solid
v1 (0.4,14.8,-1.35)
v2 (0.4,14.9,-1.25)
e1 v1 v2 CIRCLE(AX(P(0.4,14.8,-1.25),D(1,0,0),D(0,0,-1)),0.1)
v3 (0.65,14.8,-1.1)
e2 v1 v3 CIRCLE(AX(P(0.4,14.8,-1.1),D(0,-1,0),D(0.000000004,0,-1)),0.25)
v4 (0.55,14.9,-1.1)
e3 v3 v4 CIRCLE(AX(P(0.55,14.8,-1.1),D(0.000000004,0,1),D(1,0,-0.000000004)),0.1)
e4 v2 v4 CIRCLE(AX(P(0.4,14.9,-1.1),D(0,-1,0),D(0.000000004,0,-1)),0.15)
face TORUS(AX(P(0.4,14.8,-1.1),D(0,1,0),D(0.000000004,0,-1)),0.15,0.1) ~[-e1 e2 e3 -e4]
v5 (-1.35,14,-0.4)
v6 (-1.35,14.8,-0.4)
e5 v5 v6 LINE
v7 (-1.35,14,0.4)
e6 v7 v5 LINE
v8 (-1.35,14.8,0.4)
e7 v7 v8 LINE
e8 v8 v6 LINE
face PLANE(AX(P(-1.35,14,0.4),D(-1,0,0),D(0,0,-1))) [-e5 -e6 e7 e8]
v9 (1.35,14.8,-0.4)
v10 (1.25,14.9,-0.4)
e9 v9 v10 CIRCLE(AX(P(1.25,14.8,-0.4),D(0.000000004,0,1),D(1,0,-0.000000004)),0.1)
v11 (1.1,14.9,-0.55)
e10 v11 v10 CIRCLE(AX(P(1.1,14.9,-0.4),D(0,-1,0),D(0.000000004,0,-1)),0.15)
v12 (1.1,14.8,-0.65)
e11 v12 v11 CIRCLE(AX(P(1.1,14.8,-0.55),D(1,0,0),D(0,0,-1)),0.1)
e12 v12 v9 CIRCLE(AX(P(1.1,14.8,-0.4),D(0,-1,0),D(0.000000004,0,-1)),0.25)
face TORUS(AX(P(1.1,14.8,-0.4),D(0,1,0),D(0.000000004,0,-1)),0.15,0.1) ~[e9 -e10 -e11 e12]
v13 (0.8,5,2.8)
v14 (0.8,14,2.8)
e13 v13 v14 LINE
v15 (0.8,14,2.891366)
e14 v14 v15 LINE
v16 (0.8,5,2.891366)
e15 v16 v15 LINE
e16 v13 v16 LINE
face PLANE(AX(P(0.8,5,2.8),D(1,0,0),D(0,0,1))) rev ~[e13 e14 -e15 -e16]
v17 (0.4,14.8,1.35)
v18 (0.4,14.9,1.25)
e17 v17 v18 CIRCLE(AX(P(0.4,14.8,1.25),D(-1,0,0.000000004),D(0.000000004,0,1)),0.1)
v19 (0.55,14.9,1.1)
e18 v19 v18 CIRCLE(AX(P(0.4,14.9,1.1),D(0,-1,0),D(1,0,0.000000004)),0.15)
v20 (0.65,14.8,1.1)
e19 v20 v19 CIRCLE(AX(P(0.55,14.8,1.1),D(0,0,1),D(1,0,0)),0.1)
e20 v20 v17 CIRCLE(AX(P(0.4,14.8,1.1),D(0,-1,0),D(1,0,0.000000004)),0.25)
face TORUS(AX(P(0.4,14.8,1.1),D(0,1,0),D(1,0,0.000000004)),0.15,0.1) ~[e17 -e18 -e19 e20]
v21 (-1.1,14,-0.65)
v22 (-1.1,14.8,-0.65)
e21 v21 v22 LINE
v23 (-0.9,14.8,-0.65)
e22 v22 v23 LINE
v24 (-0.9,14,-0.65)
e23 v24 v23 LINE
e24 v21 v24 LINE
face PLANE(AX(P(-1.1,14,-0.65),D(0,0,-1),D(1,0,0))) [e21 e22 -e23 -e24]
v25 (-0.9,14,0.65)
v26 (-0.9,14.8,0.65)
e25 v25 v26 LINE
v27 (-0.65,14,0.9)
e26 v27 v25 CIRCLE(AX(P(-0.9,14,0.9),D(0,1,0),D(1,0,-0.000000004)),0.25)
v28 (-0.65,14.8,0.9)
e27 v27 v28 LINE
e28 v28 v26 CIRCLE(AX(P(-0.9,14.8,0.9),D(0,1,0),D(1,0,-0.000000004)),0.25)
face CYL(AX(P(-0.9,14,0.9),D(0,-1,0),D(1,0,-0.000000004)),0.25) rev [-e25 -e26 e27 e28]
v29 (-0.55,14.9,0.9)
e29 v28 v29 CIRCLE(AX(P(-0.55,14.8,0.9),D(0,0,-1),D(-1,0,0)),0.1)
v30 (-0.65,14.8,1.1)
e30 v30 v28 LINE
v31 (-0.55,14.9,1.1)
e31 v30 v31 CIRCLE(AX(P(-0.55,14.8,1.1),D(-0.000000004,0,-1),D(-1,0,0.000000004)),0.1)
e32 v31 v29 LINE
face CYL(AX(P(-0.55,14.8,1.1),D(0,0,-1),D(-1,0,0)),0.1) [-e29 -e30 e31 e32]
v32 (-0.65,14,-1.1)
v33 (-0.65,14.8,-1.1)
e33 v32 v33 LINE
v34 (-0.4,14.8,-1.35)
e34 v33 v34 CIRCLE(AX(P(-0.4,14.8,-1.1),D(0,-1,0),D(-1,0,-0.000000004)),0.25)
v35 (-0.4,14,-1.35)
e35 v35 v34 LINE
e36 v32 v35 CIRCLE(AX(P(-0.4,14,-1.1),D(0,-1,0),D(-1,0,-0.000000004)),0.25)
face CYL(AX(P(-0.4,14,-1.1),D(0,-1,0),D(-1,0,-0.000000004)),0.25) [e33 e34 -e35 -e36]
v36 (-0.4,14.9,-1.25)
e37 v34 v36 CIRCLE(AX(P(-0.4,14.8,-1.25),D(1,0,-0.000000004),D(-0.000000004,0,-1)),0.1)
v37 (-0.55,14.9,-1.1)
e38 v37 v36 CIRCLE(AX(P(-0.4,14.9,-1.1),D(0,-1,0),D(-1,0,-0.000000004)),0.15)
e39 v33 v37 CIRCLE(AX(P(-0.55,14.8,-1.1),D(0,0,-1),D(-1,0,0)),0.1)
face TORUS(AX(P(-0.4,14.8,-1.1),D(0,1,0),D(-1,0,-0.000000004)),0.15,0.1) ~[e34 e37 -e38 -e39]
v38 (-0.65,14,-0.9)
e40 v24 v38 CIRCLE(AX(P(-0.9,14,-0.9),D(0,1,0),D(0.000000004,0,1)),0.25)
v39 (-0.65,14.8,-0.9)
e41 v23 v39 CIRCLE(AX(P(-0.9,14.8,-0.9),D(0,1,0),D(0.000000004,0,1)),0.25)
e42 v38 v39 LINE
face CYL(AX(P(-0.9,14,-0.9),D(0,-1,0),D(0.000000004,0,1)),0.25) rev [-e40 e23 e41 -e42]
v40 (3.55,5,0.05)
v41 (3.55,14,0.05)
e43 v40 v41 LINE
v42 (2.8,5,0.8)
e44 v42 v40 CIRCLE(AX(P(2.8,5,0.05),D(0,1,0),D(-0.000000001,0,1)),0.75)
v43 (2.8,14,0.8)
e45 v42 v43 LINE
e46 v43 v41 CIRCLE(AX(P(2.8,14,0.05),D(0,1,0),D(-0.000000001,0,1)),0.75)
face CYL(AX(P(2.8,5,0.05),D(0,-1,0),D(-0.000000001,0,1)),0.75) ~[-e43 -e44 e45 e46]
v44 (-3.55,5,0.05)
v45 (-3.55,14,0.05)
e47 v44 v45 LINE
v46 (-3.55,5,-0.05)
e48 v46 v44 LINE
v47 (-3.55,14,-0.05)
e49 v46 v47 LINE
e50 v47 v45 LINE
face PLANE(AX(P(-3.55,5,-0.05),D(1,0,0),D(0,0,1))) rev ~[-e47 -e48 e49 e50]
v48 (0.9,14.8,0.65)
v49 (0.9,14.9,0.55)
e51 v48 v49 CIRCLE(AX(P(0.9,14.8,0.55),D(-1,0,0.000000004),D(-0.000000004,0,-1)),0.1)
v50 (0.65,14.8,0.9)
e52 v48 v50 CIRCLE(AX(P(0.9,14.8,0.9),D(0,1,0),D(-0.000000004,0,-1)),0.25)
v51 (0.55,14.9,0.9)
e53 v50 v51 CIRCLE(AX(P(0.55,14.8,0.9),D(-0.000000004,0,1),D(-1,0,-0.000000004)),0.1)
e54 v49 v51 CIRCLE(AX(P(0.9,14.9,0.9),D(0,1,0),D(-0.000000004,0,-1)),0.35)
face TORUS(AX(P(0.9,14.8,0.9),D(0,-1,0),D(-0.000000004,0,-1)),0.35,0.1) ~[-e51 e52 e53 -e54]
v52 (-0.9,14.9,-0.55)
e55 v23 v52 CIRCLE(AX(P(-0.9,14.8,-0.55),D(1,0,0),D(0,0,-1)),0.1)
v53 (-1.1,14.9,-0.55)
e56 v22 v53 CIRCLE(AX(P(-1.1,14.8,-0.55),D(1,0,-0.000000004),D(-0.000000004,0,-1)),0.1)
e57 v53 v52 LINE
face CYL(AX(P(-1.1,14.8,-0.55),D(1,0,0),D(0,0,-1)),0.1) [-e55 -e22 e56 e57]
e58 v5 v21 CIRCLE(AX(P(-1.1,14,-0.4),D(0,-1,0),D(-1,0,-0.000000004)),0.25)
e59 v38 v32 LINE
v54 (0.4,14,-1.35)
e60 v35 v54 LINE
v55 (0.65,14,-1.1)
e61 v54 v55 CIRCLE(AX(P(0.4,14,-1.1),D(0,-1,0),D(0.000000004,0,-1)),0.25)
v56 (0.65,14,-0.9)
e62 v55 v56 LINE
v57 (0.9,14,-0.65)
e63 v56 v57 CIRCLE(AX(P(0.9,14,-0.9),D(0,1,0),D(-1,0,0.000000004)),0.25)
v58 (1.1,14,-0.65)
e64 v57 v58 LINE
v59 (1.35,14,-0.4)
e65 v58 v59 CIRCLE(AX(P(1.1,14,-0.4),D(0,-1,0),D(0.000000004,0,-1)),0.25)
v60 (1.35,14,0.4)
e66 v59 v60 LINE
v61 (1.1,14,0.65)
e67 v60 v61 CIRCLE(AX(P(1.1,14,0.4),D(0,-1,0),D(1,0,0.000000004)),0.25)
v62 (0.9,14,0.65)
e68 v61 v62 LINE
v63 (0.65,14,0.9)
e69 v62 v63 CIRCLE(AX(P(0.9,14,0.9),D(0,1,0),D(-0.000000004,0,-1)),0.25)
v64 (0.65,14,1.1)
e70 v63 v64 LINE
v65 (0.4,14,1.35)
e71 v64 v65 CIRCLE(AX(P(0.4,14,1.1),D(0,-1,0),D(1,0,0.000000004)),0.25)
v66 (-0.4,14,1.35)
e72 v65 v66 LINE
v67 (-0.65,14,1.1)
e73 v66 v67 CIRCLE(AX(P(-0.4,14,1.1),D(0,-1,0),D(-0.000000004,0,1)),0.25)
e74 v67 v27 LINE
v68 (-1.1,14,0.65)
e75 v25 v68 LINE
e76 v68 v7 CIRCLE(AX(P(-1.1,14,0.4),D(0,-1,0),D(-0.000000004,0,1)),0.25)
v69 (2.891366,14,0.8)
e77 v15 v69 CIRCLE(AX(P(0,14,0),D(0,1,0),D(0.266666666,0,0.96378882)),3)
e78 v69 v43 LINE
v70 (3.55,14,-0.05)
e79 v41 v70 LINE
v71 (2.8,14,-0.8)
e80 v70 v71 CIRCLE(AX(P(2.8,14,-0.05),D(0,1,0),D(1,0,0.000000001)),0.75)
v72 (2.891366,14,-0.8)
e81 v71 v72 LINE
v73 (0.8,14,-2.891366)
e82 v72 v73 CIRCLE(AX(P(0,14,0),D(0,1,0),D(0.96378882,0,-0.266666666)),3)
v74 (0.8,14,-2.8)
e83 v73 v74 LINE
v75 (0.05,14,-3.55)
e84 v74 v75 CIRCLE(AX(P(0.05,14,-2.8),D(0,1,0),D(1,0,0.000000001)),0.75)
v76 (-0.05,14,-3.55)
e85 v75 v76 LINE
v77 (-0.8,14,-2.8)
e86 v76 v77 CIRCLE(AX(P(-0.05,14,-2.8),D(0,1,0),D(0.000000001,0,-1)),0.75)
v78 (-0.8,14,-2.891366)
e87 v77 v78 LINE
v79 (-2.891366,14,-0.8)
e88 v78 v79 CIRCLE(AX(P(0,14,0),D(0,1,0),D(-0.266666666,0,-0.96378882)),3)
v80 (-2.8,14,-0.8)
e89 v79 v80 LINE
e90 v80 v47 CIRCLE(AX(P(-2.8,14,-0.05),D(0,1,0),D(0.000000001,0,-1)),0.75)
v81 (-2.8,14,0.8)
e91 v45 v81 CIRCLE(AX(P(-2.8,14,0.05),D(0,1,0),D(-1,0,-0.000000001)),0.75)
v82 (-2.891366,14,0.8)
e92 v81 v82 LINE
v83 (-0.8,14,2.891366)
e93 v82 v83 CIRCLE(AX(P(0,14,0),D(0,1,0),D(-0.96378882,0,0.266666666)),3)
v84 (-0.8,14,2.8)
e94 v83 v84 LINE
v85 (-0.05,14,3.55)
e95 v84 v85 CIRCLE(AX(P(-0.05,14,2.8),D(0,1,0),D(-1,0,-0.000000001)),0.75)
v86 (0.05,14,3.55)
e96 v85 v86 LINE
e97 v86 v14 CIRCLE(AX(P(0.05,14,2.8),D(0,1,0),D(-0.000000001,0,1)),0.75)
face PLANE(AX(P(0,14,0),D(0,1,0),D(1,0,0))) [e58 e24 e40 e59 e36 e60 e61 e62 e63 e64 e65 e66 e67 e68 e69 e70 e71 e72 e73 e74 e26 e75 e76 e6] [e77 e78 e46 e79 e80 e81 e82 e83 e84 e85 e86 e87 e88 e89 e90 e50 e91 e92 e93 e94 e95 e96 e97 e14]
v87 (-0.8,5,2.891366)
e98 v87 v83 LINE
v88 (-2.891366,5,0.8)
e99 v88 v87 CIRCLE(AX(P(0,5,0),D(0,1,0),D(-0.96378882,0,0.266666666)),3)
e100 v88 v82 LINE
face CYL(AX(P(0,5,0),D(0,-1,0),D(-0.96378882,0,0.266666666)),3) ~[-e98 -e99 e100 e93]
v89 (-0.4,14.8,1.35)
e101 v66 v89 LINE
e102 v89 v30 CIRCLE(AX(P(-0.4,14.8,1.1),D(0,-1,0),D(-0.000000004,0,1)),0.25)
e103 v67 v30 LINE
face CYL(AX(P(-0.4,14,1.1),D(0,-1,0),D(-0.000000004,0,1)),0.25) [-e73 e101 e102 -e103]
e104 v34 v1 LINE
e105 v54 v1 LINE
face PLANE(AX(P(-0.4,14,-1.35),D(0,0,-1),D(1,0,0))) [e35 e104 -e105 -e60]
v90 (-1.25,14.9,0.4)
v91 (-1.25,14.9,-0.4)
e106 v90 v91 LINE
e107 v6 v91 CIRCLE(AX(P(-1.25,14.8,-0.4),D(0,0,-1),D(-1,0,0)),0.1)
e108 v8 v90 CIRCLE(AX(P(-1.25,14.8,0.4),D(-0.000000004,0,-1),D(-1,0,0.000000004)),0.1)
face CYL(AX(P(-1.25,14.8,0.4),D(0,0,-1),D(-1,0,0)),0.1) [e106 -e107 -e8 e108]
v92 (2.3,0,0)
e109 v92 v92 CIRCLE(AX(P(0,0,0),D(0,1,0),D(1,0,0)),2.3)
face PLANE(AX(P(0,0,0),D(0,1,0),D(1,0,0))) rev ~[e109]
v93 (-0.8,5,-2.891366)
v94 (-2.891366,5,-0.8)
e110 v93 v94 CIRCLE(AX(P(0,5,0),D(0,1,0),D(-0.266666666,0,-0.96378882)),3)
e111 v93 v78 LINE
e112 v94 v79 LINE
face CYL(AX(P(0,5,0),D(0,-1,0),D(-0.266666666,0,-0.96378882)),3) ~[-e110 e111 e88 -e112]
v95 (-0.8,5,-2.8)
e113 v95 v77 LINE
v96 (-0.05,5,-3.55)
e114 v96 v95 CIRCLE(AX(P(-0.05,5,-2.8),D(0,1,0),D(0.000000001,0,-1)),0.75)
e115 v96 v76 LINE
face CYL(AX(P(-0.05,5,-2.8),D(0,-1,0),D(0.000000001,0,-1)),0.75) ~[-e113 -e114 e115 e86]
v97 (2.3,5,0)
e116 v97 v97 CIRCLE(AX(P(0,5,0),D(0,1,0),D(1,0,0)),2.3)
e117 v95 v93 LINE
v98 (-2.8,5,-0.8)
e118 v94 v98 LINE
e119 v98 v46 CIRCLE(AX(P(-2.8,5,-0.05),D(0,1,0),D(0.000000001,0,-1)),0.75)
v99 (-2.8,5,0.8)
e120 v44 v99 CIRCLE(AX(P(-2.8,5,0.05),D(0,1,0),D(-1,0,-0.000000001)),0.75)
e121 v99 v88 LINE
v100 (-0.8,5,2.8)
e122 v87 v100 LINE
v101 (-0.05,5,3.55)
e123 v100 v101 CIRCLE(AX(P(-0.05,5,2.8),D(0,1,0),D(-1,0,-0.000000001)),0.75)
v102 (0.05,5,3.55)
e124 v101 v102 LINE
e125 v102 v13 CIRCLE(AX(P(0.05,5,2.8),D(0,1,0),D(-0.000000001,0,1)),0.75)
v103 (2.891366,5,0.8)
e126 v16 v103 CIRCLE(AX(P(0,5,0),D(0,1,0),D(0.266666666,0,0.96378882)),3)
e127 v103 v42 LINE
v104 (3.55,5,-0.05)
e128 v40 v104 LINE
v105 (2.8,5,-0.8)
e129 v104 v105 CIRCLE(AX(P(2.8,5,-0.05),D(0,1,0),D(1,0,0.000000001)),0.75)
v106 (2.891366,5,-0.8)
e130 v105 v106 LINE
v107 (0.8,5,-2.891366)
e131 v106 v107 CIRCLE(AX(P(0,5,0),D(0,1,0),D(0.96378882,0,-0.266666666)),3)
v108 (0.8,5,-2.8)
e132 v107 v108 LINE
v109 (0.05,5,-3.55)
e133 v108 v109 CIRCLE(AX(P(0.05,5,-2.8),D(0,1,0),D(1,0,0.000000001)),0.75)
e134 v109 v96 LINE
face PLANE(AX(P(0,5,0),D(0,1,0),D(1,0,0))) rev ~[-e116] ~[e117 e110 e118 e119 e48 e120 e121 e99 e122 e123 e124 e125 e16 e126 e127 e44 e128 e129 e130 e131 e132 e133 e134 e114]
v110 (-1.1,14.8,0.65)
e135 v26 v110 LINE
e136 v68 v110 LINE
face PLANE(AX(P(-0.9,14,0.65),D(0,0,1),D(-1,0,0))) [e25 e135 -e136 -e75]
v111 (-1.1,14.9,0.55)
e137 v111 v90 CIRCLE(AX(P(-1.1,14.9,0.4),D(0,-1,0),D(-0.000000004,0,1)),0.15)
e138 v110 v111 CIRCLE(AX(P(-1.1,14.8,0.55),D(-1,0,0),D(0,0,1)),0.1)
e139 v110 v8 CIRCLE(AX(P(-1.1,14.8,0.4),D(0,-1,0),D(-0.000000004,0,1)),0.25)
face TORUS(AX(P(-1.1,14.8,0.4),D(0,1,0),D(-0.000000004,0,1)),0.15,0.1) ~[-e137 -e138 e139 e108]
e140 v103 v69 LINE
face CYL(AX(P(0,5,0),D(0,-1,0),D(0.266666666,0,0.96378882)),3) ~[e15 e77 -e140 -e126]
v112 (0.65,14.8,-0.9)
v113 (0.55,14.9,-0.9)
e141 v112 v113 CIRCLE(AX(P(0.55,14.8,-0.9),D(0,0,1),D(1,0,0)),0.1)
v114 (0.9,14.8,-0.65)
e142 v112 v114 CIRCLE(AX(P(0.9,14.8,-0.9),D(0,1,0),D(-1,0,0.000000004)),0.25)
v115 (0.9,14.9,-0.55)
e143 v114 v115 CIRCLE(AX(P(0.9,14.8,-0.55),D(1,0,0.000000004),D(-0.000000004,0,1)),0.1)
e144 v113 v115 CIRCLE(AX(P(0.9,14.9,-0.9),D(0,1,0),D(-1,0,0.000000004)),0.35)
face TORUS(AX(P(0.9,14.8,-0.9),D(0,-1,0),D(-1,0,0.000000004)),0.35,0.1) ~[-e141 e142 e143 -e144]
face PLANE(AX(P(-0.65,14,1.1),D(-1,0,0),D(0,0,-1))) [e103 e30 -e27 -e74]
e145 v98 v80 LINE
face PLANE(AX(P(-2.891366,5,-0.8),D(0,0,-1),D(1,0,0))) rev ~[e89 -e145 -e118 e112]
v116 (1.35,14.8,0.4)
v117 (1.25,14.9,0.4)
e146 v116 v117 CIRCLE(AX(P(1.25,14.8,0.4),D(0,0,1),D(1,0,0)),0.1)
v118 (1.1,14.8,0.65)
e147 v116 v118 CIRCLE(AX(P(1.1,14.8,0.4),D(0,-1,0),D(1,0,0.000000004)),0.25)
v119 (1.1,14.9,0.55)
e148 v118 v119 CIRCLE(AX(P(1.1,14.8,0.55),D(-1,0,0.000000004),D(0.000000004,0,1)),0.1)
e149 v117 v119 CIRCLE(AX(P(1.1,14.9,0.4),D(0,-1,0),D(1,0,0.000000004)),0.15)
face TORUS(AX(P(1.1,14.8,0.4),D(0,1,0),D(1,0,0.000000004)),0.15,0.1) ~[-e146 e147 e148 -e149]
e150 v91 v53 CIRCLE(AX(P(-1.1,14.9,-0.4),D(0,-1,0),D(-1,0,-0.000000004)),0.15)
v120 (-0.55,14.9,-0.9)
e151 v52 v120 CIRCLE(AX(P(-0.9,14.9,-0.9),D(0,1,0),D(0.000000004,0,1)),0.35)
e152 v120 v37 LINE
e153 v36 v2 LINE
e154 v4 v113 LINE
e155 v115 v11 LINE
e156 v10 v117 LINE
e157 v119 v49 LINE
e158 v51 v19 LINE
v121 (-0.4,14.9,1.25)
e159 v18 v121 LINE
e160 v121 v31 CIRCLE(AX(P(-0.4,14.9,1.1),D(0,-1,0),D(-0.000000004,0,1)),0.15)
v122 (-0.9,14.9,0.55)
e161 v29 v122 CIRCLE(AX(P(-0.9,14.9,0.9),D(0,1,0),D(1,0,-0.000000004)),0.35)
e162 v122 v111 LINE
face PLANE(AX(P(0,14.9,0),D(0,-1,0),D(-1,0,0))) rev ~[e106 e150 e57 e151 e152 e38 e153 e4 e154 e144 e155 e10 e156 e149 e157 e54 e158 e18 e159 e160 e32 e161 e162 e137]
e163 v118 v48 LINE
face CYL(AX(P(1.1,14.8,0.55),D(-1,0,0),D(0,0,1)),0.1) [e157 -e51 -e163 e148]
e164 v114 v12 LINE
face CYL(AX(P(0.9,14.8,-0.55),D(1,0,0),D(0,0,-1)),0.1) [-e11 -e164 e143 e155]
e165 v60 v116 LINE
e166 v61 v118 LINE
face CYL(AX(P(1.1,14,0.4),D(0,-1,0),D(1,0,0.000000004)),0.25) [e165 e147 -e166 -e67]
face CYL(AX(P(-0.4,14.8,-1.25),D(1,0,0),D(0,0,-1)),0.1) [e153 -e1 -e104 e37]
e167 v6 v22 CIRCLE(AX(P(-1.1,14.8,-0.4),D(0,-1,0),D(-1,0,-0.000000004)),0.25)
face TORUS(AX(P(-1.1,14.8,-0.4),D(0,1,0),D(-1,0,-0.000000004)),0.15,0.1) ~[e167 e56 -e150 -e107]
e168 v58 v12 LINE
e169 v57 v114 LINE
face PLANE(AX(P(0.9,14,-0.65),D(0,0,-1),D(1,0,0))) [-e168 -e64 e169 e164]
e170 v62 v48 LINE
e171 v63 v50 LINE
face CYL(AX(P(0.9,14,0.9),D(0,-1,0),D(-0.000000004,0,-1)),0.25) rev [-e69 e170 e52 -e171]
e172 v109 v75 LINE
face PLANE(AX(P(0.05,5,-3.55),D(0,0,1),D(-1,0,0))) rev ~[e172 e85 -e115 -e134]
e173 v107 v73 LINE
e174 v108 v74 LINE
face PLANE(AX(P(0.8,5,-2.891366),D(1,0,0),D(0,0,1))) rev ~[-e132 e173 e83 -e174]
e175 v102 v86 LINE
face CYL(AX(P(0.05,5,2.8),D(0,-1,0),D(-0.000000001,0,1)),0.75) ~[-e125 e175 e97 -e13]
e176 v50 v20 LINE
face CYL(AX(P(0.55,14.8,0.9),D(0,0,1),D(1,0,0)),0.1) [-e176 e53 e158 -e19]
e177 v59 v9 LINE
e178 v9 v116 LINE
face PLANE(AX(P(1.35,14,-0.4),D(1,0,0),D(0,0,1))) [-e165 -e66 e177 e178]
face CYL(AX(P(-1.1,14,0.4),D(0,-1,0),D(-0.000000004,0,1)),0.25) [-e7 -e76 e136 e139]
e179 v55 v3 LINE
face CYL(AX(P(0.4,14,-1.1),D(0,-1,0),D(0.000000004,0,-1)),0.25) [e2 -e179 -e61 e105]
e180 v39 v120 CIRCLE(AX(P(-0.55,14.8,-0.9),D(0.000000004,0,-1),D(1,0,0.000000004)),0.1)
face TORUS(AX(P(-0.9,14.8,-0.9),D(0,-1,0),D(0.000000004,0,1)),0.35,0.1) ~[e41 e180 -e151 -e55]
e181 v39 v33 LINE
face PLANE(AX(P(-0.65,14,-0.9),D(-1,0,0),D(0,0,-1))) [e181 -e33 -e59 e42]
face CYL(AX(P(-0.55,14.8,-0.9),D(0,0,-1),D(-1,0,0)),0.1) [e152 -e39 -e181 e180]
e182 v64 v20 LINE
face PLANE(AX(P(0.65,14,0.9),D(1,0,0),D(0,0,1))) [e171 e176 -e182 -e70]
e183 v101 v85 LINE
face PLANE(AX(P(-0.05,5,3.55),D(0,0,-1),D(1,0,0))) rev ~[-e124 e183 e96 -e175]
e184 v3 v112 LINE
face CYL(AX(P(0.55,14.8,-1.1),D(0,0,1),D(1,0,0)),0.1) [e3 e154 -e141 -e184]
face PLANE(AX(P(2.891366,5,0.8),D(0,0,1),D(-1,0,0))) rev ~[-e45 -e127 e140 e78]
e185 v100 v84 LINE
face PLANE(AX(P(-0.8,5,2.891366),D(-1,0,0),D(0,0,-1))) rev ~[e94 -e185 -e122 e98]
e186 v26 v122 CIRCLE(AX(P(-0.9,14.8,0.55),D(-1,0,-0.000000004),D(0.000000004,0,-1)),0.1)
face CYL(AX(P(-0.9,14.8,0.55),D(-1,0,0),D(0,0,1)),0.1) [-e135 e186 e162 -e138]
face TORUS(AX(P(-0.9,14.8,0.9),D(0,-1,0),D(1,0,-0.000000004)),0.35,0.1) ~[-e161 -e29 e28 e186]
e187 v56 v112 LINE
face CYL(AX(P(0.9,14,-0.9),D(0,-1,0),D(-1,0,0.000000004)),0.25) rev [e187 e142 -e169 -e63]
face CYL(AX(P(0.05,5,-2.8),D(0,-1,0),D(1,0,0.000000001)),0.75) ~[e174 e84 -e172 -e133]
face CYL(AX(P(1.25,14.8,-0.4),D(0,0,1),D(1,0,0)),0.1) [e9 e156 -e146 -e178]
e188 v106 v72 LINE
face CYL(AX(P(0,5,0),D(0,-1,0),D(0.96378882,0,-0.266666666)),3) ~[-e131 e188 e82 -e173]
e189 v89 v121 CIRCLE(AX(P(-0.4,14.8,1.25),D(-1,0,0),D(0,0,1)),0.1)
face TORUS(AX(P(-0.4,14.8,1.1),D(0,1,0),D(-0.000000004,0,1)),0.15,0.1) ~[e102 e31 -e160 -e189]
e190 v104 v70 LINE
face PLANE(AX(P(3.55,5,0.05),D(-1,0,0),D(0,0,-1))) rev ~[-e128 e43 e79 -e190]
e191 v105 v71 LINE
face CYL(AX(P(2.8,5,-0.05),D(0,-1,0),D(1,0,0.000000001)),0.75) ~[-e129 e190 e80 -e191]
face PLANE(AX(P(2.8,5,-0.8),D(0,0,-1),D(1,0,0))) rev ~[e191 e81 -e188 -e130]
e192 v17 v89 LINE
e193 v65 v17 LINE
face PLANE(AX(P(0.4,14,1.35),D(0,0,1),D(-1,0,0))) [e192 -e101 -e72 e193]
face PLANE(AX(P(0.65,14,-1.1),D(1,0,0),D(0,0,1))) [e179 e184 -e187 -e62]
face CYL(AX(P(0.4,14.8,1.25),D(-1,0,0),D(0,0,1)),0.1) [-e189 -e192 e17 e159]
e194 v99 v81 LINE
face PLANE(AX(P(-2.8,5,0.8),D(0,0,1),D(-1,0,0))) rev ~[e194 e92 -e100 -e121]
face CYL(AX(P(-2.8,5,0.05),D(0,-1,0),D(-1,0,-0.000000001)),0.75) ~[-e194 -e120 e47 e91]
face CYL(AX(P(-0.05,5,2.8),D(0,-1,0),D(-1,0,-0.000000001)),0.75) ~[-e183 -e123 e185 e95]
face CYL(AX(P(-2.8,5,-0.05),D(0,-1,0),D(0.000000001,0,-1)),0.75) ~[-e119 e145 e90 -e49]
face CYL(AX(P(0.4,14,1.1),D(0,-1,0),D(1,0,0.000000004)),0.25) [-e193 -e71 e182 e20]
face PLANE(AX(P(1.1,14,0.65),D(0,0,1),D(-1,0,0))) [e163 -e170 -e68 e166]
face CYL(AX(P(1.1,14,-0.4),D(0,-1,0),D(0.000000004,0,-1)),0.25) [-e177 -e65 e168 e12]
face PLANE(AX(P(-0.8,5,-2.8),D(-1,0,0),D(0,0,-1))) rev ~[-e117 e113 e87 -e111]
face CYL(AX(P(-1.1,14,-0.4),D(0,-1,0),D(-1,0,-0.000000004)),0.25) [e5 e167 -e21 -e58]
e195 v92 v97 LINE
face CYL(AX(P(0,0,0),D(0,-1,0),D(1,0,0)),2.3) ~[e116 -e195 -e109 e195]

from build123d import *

# Parameters (mm, degrees)
SKETCH1_R           = 2.3
BOSS_EXTRUDE1_DEPTH = 5
BOSS_EXTRUDE2_DEPTH = 9
BOSS_EXTRUDE3_DEPTH = 0.9
FILLET2_R           = 0.1


with BuildPart() as part:
    # Sketch1 → Boss-Extrude1 (new body)
    with BuildSketch(Plane(origin=(0, 0, 0), x_dir=(1, 0, 0), z_dir=(0, 1, 0))):
        Circle(SKETCH1_R)
    extrude(amount=BOSS_EXTRUDE1_DEPTH)

    # Sketch2 → Boss-Extrude2 (add)
    with BuildSketch(Plane(origin=(0, 5, 0), x_dir=(1, 0, 0), z_dir=(0, 1, 0))):
        with BuildLine():
            Line((0.05, 3.55), (-0.05, 3.55))
            ThreePointArc((-0.05, 3.55), (-0.580330086, 3.330330086), (-0.8, 2.8))
            Line((-0.8, 2.8), (-0.8, 2.891366459))
            ThreePointArc((-0.8, 2.891366459), (-2.121320344, 2.121320344), (-2.891366459, 0.8))
            Line((-2.891366459, 0.8), (-2.8, 0.8))
            ThreePointArc((-2.8, 0.8), (-3.330330086, 0.580330086), (-3.55, 0.05))
            Line((-3.55, 0.05), (-3.55, -0.05))
            ThreePointArc((-3.55, -0.05), (-3.330330086, -0.580330086), (-2.8, -0.8))
            Line((-2.8, -0.8), (-2.891366459, -0.8))
            ThreePointArc((-2.891366459, -0.8), (-2.121320344, -2.121320344), (-0.8, -2.891366459))
            Line((-0.8, -2.891366459), (-0.8, -2.8))
            ThreePointArc((-0.8, -2.8), (-0.580330086, -3.330330086), (-0.05, -3.55))
            Line((-0.05, -3.55), (0.05, -3.55))
            ThreePointArc((0.05, -3.55), (0.580330086, -3.330330086), (0.8, -2.8))
            Line((0.8, -2.8), (0.8, -2.891366459))
            ThreePointArc((0.8, -2.891366459), (2.121320344, -2.121320344), (2.891366459, -0.8))
            Line((2.891366459, -0.8), (2.8, -0.8))
            ThreePointArc((2.8, -0.8), (3.330330086, -0.580330086), (3.55, -0.05))
            Line((3.55, -0.05), (3.55, 0.05))
            ThreePointArc((3.55, 0.05), (3.330330086, 0.580330086), (2.8, 0.8))
            Line((2.8, 0.8), (2.891366459, 0.8))
            ThreePointArc((2.891366459, 0.8), (2.121320344, 2.121320344), (0.8, 2.891366459))
            Line((0.8, 2.891366459), (0.8, 2.8))
            ThreePointArc((0.8, 2.8), (0.580330086, 3.330330086), (0.05, 3.55))
        make_face()
    extrude(amount=BOSS_EXTRUDE2_DEPTH)

    # Sketch3 → Boss-Extrude3 (add)
    with BuildSketch(Plane(origin=(0, 14, 0), x_dir=(1, 0, 0), z_dir=(0, 1, 0))):
        with BuildLine():
            Line((-0.4, 1.35), (0.4, 1.35))
            ThreePointArc((0.4, 1.35), (0.576776695, 1.276776695), (0.65, 1.1))
            Line((0.65, 1.1), (0.65, 0.9))
            ThreePointArc((0.65, 0.9), (0.723223305, 0.723223305), (0.9, 0.65))
            Line((0.9, 0.65), (1.1, 0.65))
            ThreePointArc((1.1, 0.65), (1.276776695, 0.576776695), (1.35, 0.4))
            Line((1.35, 0.4), (1.35, -0.4))
            ThreePointArc((1.35, -0.4), (1.276776695, -0.576776695), (1.1, -0.65))
            Line((1.1, -0.65), (0.9, -0.65))
            ThreePointArc((0.9, -0.65), (0.723223305, -0.723223305), (0.65, -0.9))
            Line((0.65, -0.9), (0.65, -1.1))
            ThreePointArc((0.65, -1.1), (0.576776695, -1.276776695), (0.4, -1.35))
            Line((0.4, -1.35), (-0.4, -1.35))
            ThreePointArc((-0.4, -1.35), (-0.576776695, -1.276776695), (-0.65, -1.1))
            Line((-0.65, -1.1), (-0.65, -0.9))
            ThreePointArc((-0.65, -0.9), (-0.723223305, -0.723223305), (-0.9, -0.65))
            Line((-0.9, -0.65), (-1.1, -0.65))
            ThreePointArc((-1.1, -0.65), (-1.276776695, -0.576776695), (-1.35, -0.4))
            Line((-1.35, -0.4), (-1.35, 0.4))
            ThreePointArc((-1.35, 0.4), (-1.276776695, 0.576776695), (-1.1, 0.65))
            Line((-1.1, 0.65), (-0.9, 0.65))
            ThreePointArc((-0.9, 0.65), (-0.723223305, 0.723223305), (-0.65, 0.9))
            Line((-0.65, 0.9), (-0.65, 1.1))
            ThreePointArc((-0.65, 1.1), (-0.576776695, 1.276776695), (-0.4, 1.35))
        make_face()
    extrude(amount=BOSS_EXTRUDE3_DEPTH)

    # Fillet2
    fillet2_edges = [part.edges().sort_by_distance(p)[0] for p in [
        (0.723223305, 14.9, 0.723223305),
        (1, 14.9, 0.65),
        (1.276776695, 14.9, 0.576776695),
        (1.35, 14.9, 0),
        (1.276776695, 14.9, -0.576776695),
        (1, 14.9, -0.65),
        (0.723223305, 14.9, -0.723223305),
        (0.65, 14.9, -1),
        (0.576776695, 14.9, -1.276776695),
        (0, 14.9, -1.35),
        (-0.576776695, 14.9, -1.276776695),
        (-0.65, 14.9, -1),
        (-0.723223305, 14.9, -0.723223305),
        (-1, 14.9, -0.65),
        (-1.276776695, 14.9, -0.576776695),
        (-1.35, 14.9, 0),
        (-1.276776695, 14.9, 0.576776695),
        (-1, 14.9, 0.65),
        (-0.723223305, 14.9, 0.723223305),
        (-0.65, 14.9, 1),
        (-0.576776695, 14.9, 1.276776695),
        (0, 14.9, 1.35),
        (0.576776695, 14.9, 1.276776695),
        (0.65, 14.9, 1),
    ]]
    fillet(fillet2_edges, radius=FILLET2_R)


solid = part.part
